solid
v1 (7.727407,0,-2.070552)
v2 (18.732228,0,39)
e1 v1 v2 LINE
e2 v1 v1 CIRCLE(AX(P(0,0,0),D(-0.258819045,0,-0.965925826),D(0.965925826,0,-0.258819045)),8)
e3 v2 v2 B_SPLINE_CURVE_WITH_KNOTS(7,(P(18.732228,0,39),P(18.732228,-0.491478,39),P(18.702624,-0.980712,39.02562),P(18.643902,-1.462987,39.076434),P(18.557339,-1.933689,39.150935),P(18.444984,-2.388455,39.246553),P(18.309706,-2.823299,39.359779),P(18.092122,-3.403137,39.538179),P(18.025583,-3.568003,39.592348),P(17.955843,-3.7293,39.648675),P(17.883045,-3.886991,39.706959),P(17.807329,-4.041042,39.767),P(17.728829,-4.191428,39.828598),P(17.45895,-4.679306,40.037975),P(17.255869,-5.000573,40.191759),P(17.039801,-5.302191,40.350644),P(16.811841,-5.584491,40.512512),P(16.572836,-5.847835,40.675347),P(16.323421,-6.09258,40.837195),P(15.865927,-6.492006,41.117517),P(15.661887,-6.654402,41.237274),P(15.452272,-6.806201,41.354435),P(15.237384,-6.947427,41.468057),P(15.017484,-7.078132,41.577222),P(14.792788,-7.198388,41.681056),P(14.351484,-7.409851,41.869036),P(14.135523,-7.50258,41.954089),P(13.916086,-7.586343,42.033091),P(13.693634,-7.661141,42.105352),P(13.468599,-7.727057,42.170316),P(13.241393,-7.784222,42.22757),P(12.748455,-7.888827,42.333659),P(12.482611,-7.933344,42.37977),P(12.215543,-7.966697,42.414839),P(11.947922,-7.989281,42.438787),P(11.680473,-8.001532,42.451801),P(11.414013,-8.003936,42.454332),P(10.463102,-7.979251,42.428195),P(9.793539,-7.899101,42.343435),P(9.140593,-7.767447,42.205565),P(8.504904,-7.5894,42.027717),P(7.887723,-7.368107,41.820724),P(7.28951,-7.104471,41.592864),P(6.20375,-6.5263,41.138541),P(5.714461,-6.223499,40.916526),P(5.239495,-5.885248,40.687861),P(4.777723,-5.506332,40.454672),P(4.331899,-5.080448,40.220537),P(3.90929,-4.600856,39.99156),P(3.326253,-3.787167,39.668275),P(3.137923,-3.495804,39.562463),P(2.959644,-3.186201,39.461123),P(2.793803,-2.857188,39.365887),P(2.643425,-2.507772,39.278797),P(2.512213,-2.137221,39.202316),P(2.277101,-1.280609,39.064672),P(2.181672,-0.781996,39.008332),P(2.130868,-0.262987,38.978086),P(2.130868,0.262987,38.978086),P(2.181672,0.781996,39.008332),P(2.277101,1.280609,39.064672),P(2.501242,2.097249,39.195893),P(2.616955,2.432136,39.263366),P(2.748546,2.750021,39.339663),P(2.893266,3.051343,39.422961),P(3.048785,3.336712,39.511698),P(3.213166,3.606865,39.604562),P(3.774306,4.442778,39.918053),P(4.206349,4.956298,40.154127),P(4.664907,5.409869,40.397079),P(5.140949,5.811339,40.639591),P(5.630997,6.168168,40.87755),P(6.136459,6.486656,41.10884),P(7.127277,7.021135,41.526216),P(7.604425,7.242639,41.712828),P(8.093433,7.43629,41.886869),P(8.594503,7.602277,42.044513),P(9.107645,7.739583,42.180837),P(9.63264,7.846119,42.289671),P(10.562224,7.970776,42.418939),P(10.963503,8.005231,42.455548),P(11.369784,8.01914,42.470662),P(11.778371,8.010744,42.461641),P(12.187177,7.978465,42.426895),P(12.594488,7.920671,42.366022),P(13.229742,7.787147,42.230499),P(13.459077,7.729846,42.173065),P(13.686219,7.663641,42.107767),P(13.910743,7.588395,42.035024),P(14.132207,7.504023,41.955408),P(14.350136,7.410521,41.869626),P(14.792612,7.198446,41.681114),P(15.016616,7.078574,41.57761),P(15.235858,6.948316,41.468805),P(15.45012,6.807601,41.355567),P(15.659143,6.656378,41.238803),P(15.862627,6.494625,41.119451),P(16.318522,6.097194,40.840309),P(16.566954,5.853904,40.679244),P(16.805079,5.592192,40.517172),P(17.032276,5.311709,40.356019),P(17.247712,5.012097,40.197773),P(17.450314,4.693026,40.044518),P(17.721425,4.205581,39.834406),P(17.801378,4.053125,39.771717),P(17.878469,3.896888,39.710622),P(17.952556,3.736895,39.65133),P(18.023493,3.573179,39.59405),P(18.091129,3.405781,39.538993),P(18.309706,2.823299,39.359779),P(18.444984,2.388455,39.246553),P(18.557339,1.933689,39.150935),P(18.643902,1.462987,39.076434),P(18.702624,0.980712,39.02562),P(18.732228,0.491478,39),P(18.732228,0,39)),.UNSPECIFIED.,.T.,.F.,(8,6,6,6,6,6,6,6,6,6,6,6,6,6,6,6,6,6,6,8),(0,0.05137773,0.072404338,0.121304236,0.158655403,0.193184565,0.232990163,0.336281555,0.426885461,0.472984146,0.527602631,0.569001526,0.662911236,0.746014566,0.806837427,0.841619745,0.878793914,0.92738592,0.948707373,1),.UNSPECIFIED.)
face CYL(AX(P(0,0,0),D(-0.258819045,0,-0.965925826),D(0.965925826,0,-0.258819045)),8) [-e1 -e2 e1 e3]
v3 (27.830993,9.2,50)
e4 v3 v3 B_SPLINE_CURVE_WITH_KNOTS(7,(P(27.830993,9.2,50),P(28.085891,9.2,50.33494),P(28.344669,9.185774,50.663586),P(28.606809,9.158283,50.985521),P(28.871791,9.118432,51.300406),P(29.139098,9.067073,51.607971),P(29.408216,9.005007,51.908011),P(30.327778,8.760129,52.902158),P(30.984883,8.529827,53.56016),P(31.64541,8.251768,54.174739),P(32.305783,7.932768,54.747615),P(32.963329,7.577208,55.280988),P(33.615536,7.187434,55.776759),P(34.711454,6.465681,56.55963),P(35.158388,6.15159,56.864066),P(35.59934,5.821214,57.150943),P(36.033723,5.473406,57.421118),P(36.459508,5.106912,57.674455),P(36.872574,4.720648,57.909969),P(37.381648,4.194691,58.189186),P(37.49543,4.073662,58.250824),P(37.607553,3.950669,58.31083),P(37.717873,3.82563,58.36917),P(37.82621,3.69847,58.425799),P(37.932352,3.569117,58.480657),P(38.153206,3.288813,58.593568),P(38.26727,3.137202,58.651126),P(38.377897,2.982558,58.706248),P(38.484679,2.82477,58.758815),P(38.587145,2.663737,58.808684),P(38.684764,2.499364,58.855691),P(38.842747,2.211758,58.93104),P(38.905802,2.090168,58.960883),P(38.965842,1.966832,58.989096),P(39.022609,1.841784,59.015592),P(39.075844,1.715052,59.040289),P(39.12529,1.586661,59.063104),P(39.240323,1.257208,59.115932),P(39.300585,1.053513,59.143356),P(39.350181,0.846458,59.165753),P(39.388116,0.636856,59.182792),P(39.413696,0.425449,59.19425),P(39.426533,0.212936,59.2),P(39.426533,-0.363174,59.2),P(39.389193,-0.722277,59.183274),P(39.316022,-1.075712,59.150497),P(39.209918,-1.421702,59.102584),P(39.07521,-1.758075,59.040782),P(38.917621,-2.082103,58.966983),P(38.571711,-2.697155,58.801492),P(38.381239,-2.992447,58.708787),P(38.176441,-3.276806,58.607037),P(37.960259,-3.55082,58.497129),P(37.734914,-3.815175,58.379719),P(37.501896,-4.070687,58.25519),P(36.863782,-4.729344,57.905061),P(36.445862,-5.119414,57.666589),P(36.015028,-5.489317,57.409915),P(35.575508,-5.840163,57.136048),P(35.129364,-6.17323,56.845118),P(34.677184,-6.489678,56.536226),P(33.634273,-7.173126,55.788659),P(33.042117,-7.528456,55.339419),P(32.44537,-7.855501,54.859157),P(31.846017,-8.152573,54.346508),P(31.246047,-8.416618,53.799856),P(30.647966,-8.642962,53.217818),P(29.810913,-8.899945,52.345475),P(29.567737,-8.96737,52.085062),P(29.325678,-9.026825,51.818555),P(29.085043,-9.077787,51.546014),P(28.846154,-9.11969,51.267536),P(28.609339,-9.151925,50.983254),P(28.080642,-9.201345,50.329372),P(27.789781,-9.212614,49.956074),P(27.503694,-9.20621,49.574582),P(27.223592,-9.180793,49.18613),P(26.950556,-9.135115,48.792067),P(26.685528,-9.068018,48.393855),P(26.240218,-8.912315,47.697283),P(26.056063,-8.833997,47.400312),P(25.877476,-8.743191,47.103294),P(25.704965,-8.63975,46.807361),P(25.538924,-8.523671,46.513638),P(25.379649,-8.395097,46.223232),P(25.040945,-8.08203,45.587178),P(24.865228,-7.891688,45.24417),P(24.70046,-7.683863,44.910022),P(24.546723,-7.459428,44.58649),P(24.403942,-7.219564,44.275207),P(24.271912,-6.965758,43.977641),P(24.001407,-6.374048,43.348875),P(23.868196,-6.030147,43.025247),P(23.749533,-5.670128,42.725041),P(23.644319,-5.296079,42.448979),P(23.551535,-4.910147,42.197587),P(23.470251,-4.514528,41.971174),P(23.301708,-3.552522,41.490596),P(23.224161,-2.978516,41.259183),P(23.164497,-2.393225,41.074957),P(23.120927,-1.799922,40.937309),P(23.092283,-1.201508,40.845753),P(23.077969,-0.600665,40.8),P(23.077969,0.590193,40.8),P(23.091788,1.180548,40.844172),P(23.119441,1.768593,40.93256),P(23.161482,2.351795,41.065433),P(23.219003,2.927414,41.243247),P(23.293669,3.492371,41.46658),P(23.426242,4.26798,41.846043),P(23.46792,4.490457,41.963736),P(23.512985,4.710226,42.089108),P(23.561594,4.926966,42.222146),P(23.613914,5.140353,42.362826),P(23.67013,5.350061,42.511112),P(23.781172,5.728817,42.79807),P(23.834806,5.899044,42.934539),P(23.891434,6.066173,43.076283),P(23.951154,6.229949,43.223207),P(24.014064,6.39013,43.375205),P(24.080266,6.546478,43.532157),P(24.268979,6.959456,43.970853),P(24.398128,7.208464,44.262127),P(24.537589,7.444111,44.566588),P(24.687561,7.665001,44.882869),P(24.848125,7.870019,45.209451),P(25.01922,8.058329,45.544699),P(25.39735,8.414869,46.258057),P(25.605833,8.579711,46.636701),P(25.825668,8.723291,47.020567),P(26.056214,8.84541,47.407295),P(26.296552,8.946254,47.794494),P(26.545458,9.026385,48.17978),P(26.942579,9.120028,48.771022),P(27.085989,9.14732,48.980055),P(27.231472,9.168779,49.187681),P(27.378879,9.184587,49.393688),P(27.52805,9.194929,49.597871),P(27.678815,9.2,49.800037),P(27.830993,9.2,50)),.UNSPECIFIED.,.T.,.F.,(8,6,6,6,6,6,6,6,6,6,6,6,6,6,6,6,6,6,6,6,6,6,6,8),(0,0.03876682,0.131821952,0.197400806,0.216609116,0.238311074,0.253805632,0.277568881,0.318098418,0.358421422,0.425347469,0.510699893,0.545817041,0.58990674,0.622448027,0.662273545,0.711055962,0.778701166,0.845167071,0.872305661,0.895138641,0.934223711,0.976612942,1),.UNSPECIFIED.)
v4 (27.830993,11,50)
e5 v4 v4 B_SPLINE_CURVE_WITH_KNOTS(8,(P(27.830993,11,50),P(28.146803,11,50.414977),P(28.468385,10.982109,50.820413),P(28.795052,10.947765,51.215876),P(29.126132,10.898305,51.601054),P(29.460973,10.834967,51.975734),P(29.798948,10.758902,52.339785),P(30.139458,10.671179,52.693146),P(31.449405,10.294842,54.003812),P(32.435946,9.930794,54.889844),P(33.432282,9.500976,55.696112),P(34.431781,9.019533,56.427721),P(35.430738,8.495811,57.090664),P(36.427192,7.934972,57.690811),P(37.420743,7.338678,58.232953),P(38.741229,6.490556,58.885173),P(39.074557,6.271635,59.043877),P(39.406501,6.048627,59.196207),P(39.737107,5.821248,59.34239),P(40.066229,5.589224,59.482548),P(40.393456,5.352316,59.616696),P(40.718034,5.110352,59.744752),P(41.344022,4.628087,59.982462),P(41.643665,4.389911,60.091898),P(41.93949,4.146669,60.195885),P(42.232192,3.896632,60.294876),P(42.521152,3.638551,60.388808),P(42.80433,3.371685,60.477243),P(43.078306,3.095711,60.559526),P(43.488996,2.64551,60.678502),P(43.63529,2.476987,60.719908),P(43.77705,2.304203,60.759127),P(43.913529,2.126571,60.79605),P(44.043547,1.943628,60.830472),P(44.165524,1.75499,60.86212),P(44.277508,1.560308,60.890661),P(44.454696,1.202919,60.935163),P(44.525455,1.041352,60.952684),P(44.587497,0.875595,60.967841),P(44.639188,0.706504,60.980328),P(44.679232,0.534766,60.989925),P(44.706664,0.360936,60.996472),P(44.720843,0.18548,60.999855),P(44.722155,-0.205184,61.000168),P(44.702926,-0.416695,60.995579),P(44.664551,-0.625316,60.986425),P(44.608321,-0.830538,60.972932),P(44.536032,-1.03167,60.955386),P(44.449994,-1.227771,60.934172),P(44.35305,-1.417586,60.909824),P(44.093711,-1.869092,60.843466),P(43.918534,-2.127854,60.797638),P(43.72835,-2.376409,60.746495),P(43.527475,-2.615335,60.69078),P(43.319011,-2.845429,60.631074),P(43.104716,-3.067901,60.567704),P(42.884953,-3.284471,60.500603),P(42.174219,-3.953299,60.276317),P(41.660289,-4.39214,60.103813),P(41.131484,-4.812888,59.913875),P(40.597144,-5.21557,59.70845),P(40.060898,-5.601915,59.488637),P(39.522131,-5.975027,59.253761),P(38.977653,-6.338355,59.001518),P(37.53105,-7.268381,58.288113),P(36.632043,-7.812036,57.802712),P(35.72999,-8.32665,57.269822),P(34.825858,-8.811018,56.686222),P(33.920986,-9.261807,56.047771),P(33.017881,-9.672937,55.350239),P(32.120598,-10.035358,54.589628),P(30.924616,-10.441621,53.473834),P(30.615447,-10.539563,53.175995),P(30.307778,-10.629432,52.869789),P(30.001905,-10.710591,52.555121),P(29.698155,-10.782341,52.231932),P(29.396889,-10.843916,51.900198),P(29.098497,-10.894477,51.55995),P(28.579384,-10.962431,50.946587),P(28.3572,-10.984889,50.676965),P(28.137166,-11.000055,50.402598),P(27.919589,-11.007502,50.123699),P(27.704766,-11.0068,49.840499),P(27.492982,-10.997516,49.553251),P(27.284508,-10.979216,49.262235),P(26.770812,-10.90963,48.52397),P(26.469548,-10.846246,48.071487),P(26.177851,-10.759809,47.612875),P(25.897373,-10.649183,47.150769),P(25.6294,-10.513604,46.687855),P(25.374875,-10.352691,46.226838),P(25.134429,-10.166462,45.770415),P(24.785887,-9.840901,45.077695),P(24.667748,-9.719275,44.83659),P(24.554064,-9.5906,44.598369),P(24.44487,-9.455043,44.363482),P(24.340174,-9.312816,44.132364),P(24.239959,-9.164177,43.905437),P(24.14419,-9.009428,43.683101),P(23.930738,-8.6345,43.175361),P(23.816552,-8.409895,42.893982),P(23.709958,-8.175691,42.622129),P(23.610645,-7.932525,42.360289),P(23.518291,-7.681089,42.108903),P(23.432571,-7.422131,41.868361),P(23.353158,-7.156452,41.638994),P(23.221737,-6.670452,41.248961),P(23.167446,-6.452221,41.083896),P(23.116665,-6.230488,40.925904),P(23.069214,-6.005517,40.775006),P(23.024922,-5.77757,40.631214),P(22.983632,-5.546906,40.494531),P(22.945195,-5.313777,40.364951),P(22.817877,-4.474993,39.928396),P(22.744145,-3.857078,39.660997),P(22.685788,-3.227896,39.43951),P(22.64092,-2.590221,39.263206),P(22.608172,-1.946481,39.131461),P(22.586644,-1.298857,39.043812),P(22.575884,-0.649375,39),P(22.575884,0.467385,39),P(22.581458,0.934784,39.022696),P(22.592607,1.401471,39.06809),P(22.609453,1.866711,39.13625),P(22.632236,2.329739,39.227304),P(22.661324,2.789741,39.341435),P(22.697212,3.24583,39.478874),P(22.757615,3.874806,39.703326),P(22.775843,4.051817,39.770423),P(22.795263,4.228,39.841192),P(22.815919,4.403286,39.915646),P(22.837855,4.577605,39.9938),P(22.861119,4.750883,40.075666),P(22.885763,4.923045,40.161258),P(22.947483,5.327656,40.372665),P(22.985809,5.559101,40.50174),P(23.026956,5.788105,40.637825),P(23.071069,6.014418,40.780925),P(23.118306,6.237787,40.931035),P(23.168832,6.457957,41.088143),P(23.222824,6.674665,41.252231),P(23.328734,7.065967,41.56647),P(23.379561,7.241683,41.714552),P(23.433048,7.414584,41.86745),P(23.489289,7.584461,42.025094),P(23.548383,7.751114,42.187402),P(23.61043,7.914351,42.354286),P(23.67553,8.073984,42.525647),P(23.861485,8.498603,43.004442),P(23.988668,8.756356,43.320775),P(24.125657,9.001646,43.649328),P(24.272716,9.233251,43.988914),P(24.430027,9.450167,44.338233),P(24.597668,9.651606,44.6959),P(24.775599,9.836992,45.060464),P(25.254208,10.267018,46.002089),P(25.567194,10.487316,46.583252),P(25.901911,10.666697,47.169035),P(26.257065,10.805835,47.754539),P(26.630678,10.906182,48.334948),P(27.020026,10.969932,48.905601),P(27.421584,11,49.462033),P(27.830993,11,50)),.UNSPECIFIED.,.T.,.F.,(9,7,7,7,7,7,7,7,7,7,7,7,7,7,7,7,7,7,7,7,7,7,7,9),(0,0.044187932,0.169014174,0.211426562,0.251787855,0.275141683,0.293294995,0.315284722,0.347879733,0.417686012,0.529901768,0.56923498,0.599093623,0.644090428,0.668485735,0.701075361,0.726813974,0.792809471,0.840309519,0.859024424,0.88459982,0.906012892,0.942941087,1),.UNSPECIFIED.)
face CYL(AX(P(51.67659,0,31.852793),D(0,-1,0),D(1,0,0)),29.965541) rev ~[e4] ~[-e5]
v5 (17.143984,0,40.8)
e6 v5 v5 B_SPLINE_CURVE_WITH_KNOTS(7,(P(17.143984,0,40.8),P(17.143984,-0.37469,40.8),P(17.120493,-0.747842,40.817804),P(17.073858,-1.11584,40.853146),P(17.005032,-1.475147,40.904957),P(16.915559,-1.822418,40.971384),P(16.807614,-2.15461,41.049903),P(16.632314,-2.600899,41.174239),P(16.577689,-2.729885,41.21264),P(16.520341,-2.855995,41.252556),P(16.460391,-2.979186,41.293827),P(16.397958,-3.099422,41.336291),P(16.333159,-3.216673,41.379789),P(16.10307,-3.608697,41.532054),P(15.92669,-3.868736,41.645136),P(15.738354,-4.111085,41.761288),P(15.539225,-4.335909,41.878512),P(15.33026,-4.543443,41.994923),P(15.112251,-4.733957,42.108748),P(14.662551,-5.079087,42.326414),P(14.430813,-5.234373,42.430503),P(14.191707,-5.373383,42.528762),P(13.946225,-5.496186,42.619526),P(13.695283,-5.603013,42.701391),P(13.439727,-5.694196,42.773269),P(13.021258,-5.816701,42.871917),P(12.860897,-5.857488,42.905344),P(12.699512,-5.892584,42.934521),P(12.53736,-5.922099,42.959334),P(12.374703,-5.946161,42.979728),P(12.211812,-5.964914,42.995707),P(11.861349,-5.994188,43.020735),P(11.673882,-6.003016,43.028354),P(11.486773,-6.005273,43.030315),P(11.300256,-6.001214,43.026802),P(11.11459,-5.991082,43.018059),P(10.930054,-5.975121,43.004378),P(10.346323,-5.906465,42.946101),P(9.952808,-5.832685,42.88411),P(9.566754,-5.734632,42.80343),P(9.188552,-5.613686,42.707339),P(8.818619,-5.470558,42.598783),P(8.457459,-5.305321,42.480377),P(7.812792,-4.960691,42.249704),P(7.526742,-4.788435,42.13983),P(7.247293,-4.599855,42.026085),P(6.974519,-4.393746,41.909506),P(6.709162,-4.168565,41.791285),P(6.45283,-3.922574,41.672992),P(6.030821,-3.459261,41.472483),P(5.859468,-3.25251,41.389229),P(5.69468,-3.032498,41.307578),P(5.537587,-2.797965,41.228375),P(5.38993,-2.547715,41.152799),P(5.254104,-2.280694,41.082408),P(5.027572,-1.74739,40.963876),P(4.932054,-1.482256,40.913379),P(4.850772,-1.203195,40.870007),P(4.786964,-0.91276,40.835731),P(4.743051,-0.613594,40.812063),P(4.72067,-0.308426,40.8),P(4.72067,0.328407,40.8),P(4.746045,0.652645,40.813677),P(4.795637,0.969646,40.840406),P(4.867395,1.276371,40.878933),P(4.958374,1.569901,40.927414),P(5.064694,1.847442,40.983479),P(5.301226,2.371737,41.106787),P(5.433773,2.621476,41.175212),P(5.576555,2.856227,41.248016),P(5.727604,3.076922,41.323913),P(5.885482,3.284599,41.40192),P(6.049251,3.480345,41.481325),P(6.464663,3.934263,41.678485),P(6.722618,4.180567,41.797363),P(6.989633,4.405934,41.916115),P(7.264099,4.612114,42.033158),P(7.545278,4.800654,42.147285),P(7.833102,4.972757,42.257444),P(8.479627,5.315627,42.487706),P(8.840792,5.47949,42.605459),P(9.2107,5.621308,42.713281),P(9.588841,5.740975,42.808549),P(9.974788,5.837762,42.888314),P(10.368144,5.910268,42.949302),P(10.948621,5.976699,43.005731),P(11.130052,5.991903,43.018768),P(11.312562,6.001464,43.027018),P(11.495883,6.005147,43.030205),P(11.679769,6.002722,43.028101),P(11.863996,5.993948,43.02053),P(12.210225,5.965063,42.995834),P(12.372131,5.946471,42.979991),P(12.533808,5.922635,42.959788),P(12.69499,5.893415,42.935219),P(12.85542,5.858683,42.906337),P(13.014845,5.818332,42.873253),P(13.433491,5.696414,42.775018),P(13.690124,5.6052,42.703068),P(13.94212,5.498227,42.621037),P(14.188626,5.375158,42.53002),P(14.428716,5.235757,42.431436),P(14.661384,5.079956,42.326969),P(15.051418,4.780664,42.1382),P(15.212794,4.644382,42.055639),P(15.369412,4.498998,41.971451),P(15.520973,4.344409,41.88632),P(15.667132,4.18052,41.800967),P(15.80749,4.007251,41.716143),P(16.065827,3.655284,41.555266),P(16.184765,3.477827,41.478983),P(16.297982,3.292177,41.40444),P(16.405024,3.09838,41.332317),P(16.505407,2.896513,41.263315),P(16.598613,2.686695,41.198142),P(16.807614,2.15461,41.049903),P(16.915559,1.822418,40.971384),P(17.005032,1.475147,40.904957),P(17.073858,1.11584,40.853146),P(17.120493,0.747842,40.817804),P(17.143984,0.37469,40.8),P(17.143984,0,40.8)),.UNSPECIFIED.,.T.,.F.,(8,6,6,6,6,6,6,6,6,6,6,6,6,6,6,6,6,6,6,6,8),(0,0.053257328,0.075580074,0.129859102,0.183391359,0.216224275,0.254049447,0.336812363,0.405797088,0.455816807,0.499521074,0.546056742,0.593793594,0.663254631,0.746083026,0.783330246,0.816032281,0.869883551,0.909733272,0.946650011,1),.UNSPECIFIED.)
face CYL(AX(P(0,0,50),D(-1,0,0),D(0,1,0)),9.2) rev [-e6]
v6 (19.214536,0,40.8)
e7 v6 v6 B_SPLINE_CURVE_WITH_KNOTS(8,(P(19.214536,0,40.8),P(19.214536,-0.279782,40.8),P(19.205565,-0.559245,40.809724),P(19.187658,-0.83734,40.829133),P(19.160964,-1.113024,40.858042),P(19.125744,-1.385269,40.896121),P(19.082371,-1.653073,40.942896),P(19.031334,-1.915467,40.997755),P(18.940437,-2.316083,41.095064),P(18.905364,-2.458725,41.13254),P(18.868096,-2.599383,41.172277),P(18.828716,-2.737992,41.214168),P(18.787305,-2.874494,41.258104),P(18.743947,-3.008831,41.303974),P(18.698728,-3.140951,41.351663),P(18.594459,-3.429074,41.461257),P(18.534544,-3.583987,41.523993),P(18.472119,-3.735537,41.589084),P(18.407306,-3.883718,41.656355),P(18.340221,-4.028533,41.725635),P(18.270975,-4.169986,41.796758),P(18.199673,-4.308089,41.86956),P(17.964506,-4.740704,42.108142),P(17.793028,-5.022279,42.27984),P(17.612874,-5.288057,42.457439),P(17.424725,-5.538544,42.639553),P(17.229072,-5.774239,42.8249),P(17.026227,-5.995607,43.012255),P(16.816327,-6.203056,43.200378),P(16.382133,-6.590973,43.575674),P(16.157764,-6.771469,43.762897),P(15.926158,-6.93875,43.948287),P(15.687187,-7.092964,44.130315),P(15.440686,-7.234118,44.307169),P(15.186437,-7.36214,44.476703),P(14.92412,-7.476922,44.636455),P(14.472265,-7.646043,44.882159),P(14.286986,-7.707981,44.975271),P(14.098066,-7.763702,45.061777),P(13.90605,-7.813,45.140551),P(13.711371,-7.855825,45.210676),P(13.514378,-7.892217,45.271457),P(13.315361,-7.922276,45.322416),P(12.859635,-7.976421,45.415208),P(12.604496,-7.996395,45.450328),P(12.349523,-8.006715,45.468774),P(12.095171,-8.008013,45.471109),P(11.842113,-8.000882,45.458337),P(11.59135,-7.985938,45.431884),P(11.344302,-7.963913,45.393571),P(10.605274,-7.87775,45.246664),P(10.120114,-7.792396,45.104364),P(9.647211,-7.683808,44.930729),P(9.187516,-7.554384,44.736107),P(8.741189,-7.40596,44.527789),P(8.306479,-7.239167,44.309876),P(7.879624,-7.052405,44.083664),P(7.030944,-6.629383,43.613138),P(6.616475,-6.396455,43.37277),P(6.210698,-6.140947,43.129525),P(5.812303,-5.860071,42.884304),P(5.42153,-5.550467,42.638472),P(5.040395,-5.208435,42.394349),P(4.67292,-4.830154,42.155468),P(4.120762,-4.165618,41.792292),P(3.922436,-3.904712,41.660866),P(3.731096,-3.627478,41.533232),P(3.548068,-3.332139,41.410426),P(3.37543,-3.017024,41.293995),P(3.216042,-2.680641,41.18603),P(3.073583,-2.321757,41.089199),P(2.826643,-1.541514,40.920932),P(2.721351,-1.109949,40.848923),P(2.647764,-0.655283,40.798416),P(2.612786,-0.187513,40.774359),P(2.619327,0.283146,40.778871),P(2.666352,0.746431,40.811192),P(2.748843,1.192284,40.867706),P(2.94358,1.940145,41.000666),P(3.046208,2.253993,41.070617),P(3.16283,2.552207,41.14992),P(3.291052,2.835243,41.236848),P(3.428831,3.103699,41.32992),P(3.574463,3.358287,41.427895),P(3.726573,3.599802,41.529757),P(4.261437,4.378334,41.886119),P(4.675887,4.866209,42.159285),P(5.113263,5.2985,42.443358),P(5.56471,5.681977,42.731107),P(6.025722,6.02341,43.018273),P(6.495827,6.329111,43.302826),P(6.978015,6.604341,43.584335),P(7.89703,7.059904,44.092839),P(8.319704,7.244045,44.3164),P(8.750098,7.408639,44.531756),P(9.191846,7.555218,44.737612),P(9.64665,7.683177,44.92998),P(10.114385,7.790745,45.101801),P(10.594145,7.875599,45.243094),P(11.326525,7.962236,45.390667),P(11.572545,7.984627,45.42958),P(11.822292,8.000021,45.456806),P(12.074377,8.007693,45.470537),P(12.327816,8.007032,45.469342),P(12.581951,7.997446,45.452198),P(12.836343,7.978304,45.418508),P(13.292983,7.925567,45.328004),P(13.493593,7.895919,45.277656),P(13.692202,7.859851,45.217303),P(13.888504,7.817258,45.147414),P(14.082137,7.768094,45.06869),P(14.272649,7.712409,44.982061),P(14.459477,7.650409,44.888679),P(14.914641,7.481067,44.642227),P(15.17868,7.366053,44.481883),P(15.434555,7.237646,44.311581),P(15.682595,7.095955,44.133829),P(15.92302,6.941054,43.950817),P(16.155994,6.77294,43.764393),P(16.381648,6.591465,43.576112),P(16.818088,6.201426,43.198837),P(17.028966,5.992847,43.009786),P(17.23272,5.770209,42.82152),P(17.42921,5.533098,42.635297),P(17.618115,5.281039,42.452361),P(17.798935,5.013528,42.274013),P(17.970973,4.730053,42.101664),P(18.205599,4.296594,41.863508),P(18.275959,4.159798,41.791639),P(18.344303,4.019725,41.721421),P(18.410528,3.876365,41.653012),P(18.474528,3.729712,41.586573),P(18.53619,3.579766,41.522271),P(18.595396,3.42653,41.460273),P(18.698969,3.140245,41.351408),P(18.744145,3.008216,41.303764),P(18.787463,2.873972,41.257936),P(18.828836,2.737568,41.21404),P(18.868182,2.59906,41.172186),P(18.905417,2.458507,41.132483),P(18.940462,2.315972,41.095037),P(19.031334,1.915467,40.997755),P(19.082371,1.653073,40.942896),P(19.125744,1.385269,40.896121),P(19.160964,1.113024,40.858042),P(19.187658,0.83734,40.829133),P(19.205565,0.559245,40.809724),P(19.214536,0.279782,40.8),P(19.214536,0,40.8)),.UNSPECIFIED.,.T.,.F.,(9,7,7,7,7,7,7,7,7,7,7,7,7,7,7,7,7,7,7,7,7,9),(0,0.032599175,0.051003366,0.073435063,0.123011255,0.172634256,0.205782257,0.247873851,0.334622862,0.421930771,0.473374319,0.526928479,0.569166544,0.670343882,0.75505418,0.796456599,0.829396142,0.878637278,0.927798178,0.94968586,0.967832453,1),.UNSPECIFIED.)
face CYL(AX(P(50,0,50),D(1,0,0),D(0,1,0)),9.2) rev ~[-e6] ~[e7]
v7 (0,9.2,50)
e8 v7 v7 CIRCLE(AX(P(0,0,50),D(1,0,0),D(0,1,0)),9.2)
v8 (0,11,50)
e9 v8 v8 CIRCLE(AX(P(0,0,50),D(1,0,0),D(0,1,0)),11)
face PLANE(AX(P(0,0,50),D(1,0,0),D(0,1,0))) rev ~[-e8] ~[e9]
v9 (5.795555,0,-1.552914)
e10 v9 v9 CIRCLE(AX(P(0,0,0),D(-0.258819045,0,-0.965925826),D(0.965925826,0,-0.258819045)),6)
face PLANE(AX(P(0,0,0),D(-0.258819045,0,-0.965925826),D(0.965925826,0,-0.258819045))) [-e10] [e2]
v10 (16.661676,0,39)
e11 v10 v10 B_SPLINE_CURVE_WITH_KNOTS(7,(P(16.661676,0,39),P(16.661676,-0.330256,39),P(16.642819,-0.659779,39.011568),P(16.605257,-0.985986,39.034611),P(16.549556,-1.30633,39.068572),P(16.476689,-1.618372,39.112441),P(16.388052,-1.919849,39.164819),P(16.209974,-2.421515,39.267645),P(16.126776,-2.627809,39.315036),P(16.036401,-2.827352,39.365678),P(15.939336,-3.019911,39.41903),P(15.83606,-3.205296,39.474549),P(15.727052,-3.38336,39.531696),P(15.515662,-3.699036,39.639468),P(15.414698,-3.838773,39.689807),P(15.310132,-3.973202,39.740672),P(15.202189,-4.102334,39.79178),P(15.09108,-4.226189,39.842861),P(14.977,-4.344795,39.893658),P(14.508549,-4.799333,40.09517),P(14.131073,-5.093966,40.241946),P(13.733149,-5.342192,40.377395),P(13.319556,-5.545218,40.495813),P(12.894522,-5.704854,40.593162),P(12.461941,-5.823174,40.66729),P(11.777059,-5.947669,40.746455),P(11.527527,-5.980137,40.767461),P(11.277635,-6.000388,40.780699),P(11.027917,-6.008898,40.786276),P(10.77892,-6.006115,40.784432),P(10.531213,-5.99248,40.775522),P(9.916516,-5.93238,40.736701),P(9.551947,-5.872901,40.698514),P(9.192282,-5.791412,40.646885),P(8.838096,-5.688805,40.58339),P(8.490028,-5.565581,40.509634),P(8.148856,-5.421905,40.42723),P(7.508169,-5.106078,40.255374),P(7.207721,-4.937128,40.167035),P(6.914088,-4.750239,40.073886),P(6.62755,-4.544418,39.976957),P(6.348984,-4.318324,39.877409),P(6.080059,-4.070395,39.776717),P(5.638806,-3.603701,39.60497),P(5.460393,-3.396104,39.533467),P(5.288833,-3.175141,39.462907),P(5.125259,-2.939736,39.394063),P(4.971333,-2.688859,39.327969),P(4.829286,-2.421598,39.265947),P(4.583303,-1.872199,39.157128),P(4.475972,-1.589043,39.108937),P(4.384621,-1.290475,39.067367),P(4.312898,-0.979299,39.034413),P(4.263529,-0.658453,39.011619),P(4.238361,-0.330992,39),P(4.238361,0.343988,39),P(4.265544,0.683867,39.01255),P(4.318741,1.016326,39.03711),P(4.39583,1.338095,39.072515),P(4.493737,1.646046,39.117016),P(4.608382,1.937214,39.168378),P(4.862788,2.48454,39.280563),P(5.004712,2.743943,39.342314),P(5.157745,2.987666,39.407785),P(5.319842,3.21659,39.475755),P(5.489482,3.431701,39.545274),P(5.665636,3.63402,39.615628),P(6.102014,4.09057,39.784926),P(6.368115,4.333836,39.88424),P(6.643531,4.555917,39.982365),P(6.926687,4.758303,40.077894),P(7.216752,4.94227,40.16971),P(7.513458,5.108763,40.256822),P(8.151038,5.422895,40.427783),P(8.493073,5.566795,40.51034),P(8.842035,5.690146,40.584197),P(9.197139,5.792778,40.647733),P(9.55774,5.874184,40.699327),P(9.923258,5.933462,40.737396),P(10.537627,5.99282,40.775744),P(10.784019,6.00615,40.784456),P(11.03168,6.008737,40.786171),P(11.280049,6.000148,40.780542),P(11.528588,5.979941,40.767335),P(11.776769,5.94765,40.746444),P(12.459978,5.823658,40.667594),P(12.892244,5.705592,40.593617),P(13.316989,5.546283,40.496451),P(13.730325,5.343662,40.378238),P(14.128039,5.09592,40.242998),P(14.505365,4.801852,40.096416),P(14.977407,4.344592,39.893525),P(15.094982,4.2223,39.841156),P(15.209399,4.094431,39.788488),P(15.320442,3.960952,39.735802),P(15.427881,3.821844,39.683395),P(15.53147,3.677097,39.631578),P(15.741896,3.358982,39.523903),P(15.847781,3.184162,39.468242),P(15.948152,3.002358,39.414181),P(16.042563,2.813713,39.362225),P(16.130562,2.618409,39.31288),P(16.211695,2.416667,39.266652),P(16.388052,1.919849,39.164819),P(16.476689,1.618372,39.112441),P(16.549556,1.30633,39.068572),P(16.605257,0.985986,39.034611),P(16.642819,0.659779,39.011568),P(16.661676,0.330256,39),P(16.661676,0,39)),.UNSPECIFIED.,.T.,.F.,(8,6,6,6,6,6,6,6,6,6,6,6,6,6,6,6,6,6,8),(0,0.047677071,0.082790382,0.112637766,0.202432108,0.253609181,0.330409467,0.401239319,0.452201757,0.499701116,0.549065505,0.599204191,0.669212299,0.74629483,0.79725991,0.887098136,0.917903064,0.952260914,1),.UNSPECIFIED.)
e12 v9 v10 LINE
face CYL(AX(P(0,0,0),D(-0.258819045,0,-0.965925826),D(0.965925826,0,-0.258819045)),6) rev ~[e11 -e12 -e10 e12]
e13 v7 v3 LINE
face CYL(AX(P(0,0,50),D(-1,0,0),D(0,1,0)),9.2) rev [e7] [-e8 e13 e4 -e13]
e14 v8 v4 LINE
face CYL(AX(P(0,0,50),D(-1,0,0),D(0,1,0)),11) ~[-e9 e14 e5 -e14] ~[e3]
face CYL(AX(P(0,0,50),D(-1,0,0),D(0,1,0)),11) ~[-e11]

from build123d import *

# Parameters (mm, degrees)
F3_R      = 8
F3_R_2    = 6
F4_DEPTH  = 50
F5_R      = 11
F5_R_2    = 9.2
F6_DEPTH  = 50
F7_R      = 9.2
F8_DEPTH  = 57.7284067103
F9_R      = 29.9655409023
F10_DEPTH = 12.5


with BuildPart() as f4:
    # F3 (on 3pt) → F4 (new body)
    with BuildSketch(Plane(origin=(0, 0, 0), x_dir=(0.9659258263, 0, -0.2588190451), z_dir=(-0.2588190451, 0, -0.9659258263))):
        Circle(F3_R)
        Circle(F3_R_2, mode=Mode.SUBTRACT)
    extrude(amount=-F4_DEPTH)

    # F5 (on Right) → F6 (join)
    with BuildSketch(Plane.YZ):
        with Locations((0, 50)):
            Circle(F5_R)
        with Locations((0, 50)):
            Circle(F5_R_2, mode=Mode.SUBTRACT)
    extrude(amount=F6_DEPTH)

    # F7 (on face) → F8 (cut, through all)
    with BuildSketch(Plane.YZ.offset(50)):
        with Locations((0, 50)):
            Circle(F7_R)
    extrude(amount=-F8_DEPTH, mode=Mode.SUBTRACT)

    # F9 (on Front) → F10 (cut, symmetric)
    with BuildSketch(Plane.XZ):
        with Locations((51.6765899956, 31.8527929485)):
            Circle(F9_R)
    extrude(amount=F10_DEPTH, both=True, mode=Mode.SUBTRACT)


solid = f4.part
